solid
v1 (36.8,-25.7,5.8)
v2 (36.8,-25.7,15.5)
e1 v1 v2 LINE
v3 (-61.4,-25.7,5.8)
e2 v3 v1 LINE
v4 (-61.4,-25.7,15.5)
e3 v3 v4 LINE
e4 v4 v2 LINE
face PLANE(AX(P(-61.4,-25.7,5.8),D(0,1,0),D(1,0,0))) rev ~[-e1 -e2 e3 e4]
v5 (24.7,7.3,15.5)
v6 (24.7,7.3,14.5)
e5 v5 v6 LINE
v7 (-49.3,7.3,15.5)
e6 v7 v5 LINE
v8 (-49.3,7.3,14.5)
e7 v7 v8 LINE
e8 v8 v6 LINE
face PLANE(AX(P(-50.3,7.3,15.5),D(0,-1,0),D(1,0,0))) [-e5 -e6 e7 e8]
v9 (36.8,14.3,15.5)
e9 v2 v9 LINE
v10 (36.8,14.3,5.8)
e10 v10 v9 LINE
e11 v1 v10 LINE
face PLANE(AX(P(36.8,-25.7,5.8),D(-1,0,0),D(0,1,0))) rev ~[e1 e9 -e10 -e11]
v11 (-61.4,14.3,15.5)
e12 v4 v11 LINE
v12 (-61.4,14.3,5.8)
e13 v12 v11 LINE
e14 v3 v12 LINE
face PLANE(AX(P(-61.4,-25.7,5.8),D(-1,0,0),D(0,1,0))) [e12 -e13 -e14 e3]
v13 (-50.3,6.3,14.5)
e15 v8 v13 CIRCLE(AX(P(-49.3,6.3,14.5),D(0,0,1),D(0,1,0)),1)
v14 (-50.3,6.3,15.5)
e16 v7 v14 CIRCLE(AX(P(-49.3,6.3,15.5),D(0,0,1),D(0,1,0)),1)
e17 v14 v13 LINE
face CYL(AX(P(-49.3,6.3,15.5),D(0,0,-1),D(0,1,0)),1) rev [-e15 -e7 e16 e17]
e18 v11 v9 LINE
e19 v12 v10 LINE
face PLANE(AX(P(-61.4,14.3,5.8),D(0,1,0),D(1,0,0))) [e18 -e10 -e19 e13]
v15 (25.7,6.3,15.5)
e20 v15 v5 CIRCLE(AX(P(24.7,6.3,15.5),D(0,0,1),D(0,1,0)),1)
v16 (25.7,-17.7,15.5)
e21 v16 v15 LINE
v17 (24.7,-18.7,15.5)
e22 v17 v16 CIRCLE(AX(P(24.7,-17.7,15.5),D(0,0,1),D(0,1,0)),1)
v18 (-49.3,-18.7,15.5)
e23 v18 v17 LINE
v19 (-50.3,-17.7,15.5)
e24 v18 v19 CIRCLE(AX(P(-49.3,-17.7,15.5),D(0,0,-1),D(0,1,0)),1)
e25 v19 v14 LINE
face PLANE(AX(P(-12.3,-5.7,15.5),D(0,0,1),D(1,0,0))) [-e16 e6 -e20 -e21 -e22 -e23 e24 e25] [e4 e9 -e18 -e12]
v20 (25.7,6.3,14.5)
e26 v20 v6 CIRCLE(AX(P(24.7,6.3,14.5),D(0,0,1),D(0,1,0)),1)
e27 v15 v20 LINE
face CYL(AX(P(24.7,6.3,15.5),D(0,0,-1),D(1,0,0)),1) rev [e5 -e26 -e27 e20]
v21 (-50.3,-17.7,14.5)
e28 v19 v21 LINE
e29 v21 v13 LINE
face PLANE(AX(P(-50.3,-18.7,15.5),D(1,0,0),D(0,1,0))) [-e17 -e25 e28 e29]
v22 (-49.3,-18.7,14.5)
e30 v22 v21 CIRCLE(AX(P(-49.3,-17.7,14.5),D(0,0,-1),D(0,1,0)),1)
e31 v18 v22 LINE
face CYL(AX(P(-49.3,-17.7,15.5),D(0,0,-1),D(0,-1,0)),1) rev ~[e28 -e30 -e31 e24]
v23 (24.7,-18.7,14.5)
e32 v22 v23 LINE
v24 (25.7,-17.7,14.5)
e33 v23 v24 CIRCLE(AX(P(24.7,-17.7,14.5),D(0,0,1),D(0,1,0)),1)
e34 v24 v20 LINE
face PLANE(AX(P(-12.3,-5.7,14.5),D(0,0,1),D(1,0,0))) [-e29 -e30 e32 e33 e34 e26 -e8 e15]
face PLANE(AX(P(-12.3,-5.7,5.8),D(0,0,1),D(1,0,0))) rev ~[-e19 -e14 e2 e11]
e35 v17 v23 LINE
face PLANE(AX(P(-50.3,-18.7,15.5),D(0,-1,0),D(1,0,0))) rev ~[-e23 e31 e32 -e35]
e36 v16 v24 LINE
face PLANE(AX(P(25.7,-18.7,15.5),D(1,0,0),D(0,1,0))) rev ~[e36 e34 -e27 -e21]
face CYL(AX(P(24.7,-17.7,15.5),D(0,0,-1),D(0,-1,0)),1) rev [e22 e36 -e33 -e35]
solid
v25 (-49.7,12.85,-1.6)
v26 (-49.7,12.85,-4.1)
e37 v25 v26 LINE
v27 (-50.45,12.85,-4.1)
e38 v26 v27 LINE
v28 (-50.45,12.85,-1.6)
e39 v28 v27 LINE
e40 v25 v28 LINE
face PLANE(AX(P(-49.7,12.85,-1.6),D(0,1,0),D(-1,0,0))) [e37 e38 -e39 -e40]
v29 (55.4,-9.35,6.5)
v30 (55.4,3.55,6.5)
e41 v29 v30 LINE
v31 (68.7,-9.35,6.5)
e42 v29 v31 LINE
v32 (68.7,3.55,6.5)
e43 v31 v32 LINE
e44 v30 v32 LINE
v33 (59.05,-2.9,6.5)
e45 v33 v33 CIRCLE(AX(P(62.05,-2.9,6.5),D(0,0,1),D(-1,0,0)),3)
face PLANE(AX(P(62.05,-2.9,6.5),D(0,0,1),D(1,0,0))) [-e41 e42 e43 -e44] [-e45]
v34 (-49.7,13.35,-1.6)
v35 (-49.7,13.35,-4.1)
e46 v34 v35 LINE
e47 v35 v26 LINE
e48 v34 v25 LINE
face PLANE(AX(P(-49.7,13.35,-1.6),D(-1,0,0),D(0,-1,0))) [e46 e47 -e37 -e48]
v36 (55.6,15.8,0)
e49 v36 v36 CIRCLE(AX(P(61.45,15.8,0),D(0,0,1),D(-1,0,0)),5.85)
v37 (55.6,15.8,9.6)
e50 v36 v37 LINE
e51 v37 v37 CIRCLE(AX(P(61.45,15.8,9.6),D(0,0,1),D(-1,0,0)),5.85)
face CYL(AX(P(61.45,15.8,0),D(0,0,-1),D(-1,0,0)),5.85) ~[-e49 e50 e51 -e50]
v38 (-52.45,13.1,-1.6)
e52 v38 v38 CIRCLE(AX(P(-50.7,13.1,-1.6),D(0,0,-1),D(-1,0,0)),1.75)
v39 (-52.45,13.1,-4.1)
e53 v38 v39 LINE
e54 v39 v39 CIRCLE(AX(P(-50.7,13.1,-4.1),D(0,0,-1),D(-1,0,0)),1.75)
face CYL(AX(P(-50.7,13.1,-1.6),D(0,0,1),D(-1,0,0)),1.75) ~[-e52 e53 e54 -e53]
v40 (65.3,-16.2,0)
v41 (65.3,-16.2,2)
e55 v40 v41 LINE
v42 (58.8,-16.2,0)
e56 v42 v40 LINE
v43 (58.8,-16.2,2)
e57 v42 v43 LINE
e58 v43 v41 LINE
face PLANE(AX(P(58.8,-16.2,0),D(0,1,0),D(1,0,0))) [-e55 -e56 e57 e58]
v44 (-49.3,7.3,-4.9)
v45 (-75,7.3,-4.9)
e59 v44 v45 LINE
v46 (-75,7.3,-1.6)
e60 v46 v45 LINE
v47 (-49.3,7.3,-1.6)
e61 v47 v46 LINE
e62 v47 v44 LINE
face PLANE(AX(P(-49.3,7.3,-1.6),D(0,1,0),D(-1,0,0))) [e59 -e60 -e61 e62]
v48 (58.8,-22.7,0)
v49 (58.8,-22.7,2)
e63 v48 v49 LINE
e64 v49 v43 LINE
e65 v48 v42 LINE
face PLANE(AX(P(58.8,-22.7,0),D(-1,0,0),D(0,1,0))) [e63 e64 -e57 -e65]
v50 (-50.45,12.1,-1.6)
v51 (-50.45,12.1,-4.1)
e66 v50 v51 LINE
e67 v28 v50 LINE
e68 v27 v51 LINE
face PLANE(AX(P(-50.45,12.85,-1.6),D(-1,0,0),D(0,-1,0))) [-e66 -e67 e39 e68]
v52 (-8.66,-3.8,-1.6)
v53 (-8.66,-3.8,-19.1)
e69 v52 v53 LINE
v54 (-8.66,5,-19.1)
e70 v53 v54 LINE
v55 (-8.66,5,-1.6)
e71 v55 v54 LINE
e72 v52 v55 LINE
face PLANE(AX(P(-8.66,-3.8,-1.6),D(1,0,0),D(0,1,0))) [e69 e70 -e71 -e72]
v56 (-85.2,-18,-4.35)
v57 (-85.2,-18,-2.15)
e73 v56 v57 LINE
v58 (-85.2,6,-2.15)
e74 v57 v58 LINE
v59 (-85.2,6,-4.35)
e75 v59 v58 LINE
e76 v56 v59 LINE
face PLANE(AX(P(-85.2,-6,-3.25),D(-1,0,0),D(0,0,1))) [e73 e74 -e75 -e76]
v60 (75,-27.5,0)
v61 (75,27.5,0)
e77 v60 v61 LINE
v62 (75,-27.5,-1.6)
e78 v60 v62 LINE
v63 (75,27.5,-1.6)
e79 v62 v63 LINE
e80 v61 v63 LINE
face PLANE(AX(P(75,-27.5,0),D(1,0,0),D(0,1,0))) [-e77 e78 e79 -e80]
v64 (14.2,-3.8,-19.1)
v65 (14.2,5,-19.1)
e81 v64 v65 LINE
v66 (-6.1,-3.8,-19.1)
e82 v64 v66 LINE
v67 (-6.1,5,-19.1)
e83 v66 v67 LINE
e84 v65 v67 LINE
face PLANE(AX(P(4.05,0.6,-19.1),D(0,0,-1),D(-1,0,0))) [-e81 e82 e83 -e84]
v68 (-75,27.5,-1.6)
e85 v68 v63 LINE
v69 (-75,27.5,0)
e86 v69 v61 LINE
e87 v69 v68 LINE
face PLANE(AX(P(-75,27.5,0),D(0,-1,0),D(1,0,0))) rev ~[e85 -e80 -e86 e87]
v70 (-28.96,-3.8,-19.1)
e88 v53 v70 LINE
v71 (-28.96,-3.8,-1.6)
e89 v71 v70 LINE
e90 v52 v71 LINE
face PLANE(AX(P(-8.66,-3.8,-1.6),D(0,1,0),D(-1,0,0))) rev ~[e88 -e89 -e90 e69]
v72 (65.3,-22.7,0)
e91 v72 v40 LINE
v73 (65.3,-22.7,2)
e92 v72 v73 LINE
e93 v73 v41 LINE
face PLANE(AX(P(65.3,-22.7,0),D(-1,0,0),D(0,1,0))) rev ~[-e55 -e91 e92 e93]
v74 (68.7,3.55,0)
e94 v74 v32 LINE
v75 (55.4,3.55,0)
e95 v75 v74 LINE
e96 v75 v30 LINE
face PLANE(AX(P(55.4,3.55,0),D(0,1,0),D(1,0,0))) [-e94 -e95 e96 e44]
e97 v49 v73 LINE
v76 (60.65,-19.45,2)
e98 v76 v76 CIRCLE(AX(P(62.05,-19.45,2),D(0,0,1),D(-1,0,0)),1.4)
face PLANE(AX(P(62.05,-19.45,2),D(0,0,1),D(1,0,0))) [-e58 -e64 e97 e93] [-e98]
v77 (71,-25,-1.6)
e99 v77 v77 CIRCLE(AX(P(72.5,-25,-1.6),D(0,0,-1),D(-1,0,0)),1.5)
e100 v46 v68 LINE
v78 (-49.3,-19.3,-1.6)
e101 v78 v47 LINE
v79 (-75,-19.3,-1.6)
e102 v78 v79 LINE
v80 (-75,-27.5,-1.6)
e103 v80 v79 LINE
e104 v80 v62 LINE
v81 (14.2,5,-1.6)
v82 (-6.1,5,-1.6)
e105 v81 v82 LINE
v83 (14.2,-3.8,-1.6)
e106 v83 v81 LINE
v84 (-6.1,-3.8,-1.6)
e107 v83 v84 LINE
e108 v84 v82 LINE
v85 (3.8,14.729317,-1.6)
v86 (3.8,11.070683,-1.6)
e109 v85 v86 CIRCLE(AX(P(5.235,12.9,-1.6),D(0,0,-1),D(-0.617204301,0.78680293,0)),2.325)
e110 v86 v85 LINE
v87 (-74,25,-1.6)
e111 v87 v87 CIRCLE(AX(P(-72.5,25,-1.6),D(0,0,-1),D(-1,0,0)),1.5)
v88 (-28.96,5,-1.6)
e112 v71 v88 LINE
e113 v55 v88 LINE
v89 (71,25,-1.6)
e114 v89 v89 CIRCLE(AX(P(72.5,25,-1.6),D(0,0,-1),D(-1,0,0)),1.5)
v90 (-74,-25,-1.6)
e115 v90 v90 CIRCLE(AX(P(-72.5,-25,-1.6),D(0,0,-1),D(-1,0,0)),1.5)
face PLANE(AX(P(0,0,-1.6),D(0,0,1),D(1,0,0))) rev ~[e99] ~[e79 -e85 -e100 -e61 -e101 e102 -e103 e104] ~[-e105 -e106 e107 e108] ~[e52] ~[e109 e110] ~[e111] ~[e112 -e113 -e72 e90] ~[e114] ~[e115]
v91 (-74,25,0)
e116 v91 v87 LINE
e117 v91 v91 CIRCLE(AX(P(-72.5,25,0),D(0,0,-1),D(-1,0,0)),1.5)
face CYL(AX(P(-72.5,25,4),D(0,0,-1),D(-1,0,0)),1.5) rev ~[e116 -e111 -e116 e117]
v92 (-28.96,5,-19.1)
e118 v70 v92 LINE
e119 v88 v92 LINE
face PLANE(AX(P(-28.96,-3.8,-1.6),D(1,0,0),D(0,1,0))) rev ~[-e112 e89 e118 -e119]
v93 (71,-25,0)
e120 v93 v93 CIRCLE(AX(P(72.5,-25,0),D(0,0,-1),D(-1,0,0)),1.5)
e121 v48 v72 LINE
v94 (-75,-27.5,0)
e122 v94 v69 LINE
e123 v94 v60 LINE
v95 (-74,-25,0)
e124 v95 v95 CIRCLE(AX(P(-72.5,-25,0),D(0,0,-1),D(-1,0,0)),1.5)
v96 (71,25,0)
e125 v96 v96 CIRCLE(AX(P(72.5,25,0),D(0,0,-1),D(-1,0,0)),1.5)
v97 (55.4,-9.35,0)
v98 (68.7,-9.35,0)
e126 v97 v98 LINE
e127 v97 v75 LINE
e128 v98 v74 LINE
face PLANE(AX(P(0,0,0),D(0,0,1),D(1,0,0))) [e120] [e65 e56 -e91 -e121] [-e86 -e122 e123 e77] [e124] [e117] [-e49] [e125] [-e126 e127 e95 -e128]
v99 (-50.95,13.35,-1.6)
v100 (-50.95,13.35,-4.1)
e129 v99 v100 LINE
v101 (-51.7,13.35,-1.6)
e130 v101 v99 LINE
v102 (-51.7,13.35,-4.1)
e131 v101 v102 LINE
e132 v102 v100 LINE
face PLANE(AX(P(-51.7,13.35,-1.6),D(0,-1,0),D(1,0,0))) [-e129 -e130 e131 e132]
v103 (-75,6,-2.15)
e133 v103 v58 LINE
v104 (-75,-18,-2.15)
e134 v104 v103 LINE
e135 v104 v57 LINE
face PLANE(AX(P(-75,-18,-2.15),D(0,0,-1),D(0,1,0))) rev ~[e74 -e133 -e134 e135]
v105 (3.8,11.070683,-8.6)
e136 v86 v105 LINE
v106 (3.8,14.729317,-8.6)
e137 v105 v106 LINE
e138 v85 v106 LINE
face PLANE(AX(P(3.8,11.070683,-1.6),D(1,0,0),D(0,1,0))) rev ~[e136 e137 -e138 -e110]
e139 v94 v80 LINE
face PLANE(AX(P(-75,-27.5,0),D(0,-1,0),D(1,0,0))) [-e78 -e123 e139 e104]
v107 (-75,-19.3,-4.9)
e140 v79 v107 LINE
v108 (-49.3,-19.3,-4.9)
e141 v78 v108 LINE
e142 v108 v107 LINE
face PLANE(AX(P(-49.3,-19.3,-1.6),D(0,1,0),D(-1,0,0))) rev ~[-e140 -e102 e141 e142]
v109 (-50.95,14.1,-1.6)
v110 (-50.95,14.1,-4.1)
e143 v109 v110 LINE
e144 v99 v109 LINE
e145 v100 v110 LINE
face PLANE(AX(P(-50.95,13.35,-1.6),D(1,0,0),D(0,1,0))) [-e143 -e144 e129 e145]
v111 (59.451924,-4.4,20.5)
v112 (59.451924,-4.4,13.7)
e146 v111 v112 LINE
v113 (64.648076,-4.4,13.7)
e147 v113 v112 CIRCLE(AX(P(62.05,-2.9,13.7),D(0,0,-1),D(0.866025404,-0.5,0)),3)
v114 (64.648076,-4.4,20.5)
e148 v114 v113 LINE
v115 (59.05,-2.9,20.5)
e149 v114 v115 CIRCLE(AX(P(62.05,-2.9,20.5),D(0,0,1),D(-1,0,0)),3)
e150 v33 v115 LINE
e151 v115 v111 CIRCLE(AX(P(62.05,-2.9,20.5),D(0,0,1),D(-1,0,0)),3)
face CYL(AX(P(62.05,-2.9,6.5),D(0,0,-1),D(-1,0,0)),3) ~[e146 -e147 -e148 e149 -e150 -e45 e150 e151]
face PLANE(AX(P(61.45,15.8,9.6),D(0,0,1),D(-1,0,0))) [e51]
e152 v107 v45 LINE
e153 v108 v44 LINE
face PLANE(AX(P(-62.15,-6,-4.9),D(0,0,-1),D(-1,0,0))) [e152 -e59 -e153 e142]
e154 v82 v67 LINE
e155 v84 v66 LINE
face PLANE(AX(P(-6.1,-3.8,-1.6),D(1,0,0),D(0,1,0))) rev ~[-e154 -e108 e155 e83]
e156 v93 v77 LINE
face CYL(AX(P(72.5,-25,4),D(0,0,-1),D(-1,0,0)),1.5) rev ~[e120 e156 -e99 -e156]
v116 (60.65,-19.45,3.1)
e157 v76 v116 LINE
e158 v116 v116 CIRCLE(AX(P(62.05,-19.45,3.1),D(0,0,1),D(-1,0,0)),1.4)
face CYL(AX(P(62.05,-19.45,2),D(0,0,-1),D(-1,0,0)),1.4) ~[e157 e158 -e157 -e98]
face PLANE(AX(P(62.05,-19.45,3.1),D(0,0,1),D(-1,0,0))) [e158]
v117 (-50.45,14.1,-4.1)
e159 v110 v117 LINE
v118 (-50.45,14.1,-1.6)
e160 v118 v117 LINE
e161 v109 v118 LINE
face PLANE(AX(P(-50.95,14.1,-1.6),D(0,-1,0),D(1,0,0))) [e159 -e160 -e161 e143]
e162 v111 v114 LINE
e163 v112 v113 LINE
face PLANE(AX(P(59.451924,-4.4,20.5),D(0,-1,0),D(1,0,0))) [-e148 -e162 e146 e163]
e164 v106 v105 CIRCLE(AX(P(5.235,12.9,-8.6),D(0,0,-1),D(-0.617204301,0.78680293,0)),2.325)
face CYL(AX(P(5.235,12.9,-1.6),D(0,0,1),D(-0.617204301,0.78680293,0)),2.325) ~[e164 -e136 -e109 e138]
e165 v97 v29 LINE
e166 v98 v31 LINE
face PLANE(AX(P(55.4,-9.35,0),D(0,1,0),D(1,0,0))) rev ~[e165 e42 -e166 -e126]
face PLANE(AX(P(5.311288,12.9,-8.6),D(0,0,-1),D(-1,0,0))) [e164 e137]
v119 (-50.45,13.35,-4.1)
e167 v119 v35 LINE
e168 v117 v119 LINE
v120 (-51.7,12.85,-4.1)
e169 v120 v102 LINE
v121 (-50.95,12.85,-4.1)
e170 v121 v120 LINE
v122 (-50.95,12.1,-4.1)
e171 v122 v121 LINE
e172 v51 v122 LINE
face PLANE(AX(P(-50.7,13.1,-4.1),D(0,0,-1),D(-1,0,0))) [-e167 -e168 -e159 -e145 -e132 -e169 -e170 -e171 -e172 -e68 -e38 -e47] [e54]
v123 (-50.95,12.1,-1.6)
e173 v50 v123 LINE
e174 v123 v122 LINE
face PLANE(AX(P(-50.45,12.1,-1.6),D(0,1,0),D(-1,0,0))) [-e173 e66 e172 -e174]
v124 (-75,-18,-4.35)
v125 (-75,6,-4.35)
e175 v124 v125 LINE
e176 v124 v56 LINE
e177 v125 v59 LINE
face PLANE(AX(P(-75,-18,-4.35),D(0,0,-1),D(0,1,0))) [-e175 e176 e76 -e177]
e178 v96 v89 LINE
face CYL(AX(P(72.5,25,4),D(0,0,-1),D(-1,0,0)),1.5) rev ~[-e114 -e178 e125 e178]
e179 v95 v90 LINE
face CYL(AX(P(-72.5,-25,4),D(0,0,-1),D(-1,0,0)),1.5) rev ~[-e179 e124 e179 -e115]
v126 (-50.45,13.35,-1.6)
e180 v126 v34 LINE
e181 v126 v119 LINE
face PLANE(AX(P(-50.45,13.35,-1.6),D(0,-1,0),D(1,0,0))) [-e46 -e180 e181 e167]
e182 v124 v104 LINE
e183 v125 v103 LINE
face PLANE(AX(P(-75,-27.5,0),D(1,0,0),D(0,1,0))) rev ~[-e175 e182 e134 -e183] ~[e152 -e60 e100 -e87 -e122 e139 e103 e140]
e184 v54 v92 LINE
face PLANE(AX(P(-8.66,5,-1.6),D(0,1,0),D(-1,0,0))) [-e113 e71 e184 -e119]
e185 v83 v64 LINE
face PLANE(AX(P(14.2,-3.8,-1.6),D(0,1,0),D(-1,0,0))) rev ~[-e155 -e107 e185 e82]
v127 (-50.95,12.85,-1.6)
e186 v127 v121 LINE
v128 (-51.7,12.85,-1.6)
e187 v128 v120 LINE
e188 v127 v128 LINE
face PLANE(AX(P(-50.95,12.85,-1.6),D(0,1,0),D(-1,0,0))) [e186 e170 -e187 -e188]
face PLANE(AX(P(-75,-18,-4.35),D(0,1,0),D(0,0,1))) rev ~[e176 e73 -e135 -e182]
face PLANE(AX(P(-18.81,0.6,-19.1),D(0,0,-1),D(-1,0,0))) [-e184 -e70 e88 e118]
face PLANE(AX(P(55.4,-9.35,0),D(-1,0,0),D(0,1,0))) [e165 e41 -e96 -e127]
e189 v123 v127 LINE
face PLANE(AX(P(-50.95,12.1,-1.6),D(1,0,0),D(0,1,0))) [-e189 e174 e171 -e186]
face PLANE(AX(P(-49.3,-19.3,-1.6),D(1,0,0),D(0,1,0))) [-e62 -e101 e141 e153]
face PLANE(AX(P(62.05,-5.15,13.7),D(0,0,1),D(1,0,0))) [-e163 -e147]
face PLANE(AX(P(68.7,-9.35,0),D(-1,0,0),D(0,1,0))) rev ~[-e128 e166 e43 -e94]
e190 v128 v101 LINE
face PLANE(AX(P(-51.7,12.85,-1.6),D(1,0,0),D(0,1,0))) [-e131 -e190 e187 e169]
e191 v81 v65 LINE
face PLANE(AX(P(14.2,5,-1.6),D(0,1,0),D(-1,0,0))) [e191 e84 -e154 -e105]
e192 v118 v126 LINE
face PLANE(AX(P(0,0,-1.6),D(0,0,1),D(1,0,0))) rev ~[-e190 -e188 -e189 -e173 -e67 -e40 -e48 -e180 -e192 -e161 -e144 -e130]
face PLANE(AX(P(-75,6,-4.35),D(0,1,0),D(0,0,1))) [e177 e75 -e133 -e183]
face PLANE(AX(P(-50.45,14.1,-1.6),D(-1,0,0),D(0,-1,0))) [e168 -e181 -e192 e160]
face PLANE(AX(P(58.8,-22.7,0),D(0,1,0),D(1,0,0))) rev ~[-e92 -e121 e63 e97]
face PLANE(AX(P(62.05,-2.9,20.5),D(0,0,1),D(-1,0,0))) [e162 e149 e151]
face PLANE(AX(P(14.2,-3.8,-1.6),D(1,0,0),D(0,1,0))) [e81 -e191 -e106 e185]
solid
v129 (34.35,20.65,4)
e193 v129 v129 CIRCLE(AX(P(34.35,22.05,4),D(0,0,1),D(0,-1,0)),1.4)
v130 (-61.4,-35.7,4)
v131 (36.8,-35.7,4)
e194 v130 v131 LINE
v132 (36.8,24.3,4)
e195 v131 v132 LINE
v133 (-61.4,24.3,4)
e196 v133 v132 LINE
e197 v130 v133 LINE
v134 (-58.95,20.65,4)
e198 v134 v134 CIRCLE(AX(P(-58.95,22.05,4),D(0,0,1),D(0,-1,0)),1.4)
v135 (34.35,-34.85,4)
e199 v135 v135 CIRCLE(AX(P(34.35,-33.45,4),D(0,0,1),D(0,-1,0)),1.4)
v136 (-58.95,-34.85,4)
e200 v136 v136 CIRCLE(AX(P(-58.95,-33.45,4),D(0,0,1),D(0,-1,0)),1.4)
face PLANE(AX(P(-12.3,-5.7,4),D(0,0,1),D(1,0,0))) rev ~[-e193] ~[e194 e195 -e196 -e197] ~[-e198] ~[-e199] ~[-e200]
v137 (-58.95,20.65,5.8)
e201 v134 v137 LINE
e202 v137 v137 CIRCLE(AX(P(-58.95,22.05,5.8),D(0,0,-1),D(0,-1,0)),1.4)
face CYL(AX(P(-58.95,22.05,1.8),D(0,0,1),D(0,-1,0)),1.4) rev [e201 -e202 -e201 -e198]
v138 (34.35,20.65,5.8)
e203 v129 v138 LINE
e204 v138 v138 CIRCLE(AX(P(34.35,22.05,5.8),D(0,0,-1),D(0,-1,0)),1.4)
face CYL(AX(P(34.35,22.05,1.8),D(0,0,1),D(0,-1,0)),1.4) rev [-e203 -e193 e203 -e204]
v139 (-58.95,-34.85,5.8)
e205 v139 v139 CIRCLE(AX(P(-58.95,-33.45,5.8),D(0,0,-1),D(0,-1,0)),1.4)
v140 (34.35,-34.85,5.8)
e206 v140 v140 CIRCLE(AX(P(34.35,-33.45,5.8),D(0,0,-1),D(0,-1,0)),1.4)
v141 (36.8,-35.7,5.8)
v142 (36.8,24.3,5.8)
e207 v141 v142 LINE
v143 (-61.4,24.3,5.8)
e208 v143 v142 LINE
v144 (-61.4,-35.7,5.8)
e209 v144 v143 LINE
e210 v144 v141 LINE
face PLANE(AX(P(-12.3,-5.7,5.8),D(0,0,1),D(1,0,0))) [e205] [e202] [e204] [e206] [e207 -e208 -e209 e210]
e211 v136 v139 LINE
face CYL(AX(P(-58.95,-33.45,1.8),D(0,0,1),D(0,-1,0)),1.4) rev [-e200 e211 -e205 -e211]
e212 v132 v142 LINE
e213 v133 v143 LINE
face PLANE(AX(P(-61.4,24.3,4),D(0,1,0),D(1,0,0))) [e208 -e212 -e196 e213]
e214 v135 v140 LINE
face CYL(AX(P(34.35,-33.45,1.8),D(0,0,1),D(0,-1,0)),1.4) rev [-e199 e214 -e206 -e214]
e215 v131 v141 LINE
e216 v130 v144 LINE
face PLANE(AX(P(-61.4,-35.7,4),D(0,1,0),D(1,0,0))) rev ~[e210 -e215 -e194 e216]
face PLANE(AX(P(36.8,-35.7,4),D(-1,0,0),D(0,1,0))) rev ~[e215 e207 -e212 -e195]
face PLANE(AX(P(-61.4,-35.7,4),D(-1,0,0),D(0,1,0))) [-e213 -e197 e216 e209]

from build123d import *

# Parameters (mm, degrees)
SKETCH1_W                           = 150
SKETCH1_H                           = 55
PCB_DEPTH                           = 1.6
F_3_0_3_DIAMETER_HOLE1_D            = 3
F_3_0_3_DIAMETER_HOLE1_DEPTH        = 4
F_3_0_3_DIAMETER_HOLE1_TIP          = 0.901290929
SKETCH4_W                           = 20.3
SKETCH4_H                           = 8.8
IDC_CONN_DEPTH                      = 17.5
LPATTERN1_COUNT                     = 2
LPATTERN1_PITCH                     = 22.86
SKETCH5_W                           = 25.7
SKETCH5_H                           = 26.6
SD_SOCKET_DEPTH                     = 3.3
SKETCH6_W                           = 2.2
SKETCH6_H                           = 24
SD_CARD_DEPTH                       = 10.2
SKETCH7_R                           = 1.75
CONTRAST_POT_DEPTH                  = 2.5
EXTRUDE_2N3901_DEPTH                = 7
SKETCH9_W                           = 98.2
SKETCH9_H                           = 60
LCD_PCB_DEPTH                       = 1.8
SKETCH10_W                          = 98.2
SKETCH10_H                          = 40
LCD_HOUSING_DEPTH                   = 9.7
SKETCH11_W                          = 76
SKETCH11_H                          = 26
CUT_EXTRUDE1_DEPTH                  = 1
FILLET1_R                           = 1
F_2_8_2_8_DIAMETER_HOLE1_AT_2_COUNT = 2
F_2_8_2_8_DIAMETER_HOLE1_AT_2_PITCH = 93.3
F_2_8_2_8_DIAMETER_HOLE1_AT_3_COUNT = 2
F_2_8_2_8_DIAMETER_HOLE1_AT_3_PITCH = 108.55938467
F_2_8_2_8_DIAMETER_HOLE1_AT_4_COUNT = 2
F_2_8_2_8_DIAMETER_HOLE1_AT_4_PITCH = 55.5
SKETCH14_R                          = 5.85
BUZZER_DEPTH                        = 9.6
SKETCH15_W                          = 13.3
SKETCH15_H                          = 12.9
ENC_BODY_DEPTH                      = 6.5
SKETCH16_R                          = 3
ENC_SHAFT_DEPTH                     = 14
SKETCH17_W                          = 5.196152422
SKETCH17_H                          = 1.5
ENC_SHAFT_FLAT_DEPTH                = 6.8
SKETCH18_W                          = 6.5
SKETCH18_H                          = 6.5
E_STOP_SW_BODY_DEPTH                = 2
SKETCH19_R                          = 1.4
E_STOP_SW_BUTTON_DEPTH              = 1.1


with BuildPart() as part:
    # Sketch1 → PCB (new body)
    with BuildSketch(Plane.XY):
        Rectangle(SKETCH1_W, SKETCH1_H)
    extrude(amount=-PCB_DEPTH)

    # Ø3.0 (3) Diameter Hole1
    with Locations(Plane.XY):
        with Locations((-72.5, 25), (72.5, 25), (72.5, -25), (-72.5, -25)):
            Hole(F_3_0_3_DIAMETER_HOLE1_D / 2, depth=F_3_0_3_DIAMETER_HOLE1_DEPTH)
            with Locations((0, 0, -(F_3_0_3_DIAMETER_HOLE1_DEPTH + F_3_0_3_DIAMETER_HOLE1_TIP / 2))):  # 118° drill point
                Cone(0, F_3_0_3_DIAMETER_HOLE1_D / 2, F_3_0_3_DIAMETER_HOLE1_TIP, mode=Mode.SUBTRACT)

    # Sketch4 → IDC conn (add)
    with BuildSketch(Plane(origin=(0, 0, -1.6), x_dir=(-1, 0, 0), z_dir=(0, 0, -1))):
        with Locations((-4.05, 0.6)):
            Rectangle(SKETCH4_W, SKETCH4_H)
    idc_conn = extrude(amount=IDC_CONN_DEPTH)

    # LPattern1: IDC conn ×2
    with Locations(*[(-i * LPATTERN1_PITCH, 0, 0) for i in range(1, LPATTERN1_COUNT)]):
        add(idc_conn)



with BuildPart() as body_2:
    # Sketch5 → SD socket (new body)
    with BuildSketch(Plane(origin=(0, 0, -1.6), x_dir=(-1, 0, 0), z_dir=(0, 0, -1))):
        with Locations((62.15, -6)):
            Rectangle(SKETCH5_W, SKETCH5_H)
    extrude(amount=SD_SOCKET_DEPTH)


with BuildPart() as part_1:
    add(part.part)

    add(body_2.part)  # SD card merges body 2
    # Sketch6 → SD card (add)
    with BuildSketch(Plane.ZY.offset(75)):
        with Locations((-3.25, -6)):
            Rectangle(SKETCH6_W, SKETCH6_H)
    extrude(amount=SD_CARD_DEPTH)

    # Sketch7 → Contrast pot (add)
    with BuildSketch(Plane(origin=(0, 0, -1.6), x_dir=(-1, 0, 0), z_dir=(0, 0, -1))):
        with Locations((50.7, 13.1)):
            Circle(SKETCH7_R)
        Polygon((50.95, 12.85), (51.7, 12.85), (51.7, 13.35), (50.95, 13.35), (50.95, 14.1), (50.45, 14.1), (50.45, 13.35), (49.7, 13.35), (49.7, 12.85), (50.45, 12.85), (50.45, 12.1), (50.95, 12.1), align=None, mode=Mode.SUBTRACT)
    extrude(amount=CONTRAST_POT_DEPTH)

    # Sketch8 → 2N3901 (add)
    with BuildSketch(Plane(origin=(0, 0, -1.6), x_dir=(-1, 0, 0), z_dir=(0, 0, -1))):
        with BuildLine():
            Line((-3.8, 11.070683188), (-3.8, 14.729316812))
            ThreePointArc((-3.8, 14.729316812), (-7.56, 12.9), (-3.8, 11.070683188))
        make_face()
    extrude(amount=EXTRUDE_2N3901_DEPTH)

    # Sketch14 → buzzer (add)
    with BuildSketch(Plane.XY):
        with Locations(Location((61.45, 15.8, 0), (0, 0, 180))):
            Circle(SKETCH14_R)
    extrude(amount=BUZZER_DEPTH)

    # Sketch15 → enc body (add)
    with BuildSketch(Plane.XY):
        with Locations((62.05, -2.9)):
            Rectangle(SKETCH15_W, SKETCH15_H)
    extrude(amount=ENC_BODY_DEPTH)

    # Sketch16 → enc shaft (add)
    with BuildSketch(Plane.XY.offset(6.5)):
        with Locations(Location((62.05, -2.9, 0), (0, 0, 180))):
            Circle(SKETCH16_R)
    extrude(amount=ENC_SHAFT_DEPTH)

    # Sketch17 → enc shaft flat (cut)
    with BuildSketch(Plane.XY.offset(20.5)):
        with Locations((62.05, -5.15)):
            Rectangle(SKETCH17_W, SKETCH17_H)
    extrude(amount=-ENC_SHAFT_FLAT_DEPTH, mode=Mode.SUBTRACT)

    # Sketch18 → e-stop sw body (add)
    with BuildSketch(Plane.XY):
        with Locations((62.05, -19.45)):
            Rectangle(SKETCH18_W, SKETCH18_H)
    extrude(amount=E_STOP_SW_BODY_DEPTH)

    # Sketch19 → e-stop sw button (add)
    with BuildSketch(Plane.XY.offset(2)):
        with Locations(Location((62.05, -19.45, 0), (0, 0, 180))):
            Circle(SKETCH19_R)
    extrude(amount=E_STOP_SW_BUTTON_DEPTH)


with BuildPart() as body_2_2:
    # Sketch9 → LCD PCB (new body)
    with BuildSketch(Plane.XY.offset(4)):
        with Locations((-12.3, -5.7)):
            Rectangle(SKETCH9_W, SKETCH9_H)
    extrude(amount=LCD_PCB_DEPTH)

    # Sketch12 → Ø2.8 (2.8) Diameter Hole1 (revolve, cut)
    with BuildSketch(Plane(origin=(-58.95, 22.05, 5.8), x_dir=(0, -1, 0), z_dir=(1, 0, 0))):
        Polygon((0, 0), (0, 4.841204867), (1.4, 4), (1.4, 0), align=None)
    f_2_8_2_8_diameter_hole1 = revolve(axis=Axis((-58.95, 22.05, 12.15), (0, 0, -1)), mode=Mode.SUBTRACT)

    # Ø2.8 (2.8) Diameter Hole1 at 2: Ø2.8 (2.8) Diameter Hole1 ×2
    with Locations(*[(i * F_2_8_2_8_DIAMETER_HOLE1_AT_2_PITCH, 0, 0) for i in range(1, F_2_8_2_8_DIAMETER_HOLE1_AT_2_COUNT)]):
        add(f_2_8_2_8_diameter_hole1, mode=Mode.SUBTRACT)

    # Ø2.8 (2.8) Diameter Hole1 at 3: Ø2.8 (2.8) Diameter Hole1 ×2
    with Locations(*[Vector(0.8594374432328761, -0.5112409228234149, 0) * (i * F_2_8_2_8_DIAMETER_HOLE1_AT_3_PITCH) for i in range(1, F_2_8_2_8_DIAMETER_HOLE1_AT_3_COUNT)]):
        add(f_2_8_2_8_diameter_hole1, mode=Mode.SUBTRACT)

    # Ø2.8 (2.8) Diameter Hole1 at 4: Ø2.8 (2.8) Diameter Hole1 ×2
    with Locations(*[(0, -i * F_2_8_2_8_DIAMETER_HOLE1_AT_4_PITCH, 0) for i in range(1, F_2_8_2_8_DIAMETER_HOLE1_AT_4_COUNT)]):
        add(f_2_8_2_8_diameter_hole1, mode=Mode.SUBTRACT)


with BuildPart() as body_3:
    # Sketch10 → LCD housing (new body)
    with BuildSketch(Plane.XY.offset(5.8)):
        with Locations((-12.3, -5.7)):
            Rectangle(SKETCH10_W, SKETCH10_H)
    extrude(amount=LCD_HOUSING_DEPTH)

    # Sketch11 → Cut-Extrude1 (cut)
    with BuildSketch(Plane.XY.offset(15.5)):
        with Locations((-12.3, -5.7)):
            Rectangle(SKETCH11_W, SKETCH11_H)
    extrude(amount=-CUT_EXTRUDE1_DEPTH, mode=Mode.SUBTRACT)

    # Fillet1
    fillet1_edges = [body_3.edges().sort_by_distance(p)[0] for p in [
        (-50.3, -18.7, 15),
        (-50.3, 7.3, 15),
        (25.7, 7.3, 15),
        (25.7, -18.7, 15),
    ]]
    fillet(fillet1_edges, radius=FILLET1_R)


solid = Compound([part_1.part, body_2_2.part, body_3.part])
